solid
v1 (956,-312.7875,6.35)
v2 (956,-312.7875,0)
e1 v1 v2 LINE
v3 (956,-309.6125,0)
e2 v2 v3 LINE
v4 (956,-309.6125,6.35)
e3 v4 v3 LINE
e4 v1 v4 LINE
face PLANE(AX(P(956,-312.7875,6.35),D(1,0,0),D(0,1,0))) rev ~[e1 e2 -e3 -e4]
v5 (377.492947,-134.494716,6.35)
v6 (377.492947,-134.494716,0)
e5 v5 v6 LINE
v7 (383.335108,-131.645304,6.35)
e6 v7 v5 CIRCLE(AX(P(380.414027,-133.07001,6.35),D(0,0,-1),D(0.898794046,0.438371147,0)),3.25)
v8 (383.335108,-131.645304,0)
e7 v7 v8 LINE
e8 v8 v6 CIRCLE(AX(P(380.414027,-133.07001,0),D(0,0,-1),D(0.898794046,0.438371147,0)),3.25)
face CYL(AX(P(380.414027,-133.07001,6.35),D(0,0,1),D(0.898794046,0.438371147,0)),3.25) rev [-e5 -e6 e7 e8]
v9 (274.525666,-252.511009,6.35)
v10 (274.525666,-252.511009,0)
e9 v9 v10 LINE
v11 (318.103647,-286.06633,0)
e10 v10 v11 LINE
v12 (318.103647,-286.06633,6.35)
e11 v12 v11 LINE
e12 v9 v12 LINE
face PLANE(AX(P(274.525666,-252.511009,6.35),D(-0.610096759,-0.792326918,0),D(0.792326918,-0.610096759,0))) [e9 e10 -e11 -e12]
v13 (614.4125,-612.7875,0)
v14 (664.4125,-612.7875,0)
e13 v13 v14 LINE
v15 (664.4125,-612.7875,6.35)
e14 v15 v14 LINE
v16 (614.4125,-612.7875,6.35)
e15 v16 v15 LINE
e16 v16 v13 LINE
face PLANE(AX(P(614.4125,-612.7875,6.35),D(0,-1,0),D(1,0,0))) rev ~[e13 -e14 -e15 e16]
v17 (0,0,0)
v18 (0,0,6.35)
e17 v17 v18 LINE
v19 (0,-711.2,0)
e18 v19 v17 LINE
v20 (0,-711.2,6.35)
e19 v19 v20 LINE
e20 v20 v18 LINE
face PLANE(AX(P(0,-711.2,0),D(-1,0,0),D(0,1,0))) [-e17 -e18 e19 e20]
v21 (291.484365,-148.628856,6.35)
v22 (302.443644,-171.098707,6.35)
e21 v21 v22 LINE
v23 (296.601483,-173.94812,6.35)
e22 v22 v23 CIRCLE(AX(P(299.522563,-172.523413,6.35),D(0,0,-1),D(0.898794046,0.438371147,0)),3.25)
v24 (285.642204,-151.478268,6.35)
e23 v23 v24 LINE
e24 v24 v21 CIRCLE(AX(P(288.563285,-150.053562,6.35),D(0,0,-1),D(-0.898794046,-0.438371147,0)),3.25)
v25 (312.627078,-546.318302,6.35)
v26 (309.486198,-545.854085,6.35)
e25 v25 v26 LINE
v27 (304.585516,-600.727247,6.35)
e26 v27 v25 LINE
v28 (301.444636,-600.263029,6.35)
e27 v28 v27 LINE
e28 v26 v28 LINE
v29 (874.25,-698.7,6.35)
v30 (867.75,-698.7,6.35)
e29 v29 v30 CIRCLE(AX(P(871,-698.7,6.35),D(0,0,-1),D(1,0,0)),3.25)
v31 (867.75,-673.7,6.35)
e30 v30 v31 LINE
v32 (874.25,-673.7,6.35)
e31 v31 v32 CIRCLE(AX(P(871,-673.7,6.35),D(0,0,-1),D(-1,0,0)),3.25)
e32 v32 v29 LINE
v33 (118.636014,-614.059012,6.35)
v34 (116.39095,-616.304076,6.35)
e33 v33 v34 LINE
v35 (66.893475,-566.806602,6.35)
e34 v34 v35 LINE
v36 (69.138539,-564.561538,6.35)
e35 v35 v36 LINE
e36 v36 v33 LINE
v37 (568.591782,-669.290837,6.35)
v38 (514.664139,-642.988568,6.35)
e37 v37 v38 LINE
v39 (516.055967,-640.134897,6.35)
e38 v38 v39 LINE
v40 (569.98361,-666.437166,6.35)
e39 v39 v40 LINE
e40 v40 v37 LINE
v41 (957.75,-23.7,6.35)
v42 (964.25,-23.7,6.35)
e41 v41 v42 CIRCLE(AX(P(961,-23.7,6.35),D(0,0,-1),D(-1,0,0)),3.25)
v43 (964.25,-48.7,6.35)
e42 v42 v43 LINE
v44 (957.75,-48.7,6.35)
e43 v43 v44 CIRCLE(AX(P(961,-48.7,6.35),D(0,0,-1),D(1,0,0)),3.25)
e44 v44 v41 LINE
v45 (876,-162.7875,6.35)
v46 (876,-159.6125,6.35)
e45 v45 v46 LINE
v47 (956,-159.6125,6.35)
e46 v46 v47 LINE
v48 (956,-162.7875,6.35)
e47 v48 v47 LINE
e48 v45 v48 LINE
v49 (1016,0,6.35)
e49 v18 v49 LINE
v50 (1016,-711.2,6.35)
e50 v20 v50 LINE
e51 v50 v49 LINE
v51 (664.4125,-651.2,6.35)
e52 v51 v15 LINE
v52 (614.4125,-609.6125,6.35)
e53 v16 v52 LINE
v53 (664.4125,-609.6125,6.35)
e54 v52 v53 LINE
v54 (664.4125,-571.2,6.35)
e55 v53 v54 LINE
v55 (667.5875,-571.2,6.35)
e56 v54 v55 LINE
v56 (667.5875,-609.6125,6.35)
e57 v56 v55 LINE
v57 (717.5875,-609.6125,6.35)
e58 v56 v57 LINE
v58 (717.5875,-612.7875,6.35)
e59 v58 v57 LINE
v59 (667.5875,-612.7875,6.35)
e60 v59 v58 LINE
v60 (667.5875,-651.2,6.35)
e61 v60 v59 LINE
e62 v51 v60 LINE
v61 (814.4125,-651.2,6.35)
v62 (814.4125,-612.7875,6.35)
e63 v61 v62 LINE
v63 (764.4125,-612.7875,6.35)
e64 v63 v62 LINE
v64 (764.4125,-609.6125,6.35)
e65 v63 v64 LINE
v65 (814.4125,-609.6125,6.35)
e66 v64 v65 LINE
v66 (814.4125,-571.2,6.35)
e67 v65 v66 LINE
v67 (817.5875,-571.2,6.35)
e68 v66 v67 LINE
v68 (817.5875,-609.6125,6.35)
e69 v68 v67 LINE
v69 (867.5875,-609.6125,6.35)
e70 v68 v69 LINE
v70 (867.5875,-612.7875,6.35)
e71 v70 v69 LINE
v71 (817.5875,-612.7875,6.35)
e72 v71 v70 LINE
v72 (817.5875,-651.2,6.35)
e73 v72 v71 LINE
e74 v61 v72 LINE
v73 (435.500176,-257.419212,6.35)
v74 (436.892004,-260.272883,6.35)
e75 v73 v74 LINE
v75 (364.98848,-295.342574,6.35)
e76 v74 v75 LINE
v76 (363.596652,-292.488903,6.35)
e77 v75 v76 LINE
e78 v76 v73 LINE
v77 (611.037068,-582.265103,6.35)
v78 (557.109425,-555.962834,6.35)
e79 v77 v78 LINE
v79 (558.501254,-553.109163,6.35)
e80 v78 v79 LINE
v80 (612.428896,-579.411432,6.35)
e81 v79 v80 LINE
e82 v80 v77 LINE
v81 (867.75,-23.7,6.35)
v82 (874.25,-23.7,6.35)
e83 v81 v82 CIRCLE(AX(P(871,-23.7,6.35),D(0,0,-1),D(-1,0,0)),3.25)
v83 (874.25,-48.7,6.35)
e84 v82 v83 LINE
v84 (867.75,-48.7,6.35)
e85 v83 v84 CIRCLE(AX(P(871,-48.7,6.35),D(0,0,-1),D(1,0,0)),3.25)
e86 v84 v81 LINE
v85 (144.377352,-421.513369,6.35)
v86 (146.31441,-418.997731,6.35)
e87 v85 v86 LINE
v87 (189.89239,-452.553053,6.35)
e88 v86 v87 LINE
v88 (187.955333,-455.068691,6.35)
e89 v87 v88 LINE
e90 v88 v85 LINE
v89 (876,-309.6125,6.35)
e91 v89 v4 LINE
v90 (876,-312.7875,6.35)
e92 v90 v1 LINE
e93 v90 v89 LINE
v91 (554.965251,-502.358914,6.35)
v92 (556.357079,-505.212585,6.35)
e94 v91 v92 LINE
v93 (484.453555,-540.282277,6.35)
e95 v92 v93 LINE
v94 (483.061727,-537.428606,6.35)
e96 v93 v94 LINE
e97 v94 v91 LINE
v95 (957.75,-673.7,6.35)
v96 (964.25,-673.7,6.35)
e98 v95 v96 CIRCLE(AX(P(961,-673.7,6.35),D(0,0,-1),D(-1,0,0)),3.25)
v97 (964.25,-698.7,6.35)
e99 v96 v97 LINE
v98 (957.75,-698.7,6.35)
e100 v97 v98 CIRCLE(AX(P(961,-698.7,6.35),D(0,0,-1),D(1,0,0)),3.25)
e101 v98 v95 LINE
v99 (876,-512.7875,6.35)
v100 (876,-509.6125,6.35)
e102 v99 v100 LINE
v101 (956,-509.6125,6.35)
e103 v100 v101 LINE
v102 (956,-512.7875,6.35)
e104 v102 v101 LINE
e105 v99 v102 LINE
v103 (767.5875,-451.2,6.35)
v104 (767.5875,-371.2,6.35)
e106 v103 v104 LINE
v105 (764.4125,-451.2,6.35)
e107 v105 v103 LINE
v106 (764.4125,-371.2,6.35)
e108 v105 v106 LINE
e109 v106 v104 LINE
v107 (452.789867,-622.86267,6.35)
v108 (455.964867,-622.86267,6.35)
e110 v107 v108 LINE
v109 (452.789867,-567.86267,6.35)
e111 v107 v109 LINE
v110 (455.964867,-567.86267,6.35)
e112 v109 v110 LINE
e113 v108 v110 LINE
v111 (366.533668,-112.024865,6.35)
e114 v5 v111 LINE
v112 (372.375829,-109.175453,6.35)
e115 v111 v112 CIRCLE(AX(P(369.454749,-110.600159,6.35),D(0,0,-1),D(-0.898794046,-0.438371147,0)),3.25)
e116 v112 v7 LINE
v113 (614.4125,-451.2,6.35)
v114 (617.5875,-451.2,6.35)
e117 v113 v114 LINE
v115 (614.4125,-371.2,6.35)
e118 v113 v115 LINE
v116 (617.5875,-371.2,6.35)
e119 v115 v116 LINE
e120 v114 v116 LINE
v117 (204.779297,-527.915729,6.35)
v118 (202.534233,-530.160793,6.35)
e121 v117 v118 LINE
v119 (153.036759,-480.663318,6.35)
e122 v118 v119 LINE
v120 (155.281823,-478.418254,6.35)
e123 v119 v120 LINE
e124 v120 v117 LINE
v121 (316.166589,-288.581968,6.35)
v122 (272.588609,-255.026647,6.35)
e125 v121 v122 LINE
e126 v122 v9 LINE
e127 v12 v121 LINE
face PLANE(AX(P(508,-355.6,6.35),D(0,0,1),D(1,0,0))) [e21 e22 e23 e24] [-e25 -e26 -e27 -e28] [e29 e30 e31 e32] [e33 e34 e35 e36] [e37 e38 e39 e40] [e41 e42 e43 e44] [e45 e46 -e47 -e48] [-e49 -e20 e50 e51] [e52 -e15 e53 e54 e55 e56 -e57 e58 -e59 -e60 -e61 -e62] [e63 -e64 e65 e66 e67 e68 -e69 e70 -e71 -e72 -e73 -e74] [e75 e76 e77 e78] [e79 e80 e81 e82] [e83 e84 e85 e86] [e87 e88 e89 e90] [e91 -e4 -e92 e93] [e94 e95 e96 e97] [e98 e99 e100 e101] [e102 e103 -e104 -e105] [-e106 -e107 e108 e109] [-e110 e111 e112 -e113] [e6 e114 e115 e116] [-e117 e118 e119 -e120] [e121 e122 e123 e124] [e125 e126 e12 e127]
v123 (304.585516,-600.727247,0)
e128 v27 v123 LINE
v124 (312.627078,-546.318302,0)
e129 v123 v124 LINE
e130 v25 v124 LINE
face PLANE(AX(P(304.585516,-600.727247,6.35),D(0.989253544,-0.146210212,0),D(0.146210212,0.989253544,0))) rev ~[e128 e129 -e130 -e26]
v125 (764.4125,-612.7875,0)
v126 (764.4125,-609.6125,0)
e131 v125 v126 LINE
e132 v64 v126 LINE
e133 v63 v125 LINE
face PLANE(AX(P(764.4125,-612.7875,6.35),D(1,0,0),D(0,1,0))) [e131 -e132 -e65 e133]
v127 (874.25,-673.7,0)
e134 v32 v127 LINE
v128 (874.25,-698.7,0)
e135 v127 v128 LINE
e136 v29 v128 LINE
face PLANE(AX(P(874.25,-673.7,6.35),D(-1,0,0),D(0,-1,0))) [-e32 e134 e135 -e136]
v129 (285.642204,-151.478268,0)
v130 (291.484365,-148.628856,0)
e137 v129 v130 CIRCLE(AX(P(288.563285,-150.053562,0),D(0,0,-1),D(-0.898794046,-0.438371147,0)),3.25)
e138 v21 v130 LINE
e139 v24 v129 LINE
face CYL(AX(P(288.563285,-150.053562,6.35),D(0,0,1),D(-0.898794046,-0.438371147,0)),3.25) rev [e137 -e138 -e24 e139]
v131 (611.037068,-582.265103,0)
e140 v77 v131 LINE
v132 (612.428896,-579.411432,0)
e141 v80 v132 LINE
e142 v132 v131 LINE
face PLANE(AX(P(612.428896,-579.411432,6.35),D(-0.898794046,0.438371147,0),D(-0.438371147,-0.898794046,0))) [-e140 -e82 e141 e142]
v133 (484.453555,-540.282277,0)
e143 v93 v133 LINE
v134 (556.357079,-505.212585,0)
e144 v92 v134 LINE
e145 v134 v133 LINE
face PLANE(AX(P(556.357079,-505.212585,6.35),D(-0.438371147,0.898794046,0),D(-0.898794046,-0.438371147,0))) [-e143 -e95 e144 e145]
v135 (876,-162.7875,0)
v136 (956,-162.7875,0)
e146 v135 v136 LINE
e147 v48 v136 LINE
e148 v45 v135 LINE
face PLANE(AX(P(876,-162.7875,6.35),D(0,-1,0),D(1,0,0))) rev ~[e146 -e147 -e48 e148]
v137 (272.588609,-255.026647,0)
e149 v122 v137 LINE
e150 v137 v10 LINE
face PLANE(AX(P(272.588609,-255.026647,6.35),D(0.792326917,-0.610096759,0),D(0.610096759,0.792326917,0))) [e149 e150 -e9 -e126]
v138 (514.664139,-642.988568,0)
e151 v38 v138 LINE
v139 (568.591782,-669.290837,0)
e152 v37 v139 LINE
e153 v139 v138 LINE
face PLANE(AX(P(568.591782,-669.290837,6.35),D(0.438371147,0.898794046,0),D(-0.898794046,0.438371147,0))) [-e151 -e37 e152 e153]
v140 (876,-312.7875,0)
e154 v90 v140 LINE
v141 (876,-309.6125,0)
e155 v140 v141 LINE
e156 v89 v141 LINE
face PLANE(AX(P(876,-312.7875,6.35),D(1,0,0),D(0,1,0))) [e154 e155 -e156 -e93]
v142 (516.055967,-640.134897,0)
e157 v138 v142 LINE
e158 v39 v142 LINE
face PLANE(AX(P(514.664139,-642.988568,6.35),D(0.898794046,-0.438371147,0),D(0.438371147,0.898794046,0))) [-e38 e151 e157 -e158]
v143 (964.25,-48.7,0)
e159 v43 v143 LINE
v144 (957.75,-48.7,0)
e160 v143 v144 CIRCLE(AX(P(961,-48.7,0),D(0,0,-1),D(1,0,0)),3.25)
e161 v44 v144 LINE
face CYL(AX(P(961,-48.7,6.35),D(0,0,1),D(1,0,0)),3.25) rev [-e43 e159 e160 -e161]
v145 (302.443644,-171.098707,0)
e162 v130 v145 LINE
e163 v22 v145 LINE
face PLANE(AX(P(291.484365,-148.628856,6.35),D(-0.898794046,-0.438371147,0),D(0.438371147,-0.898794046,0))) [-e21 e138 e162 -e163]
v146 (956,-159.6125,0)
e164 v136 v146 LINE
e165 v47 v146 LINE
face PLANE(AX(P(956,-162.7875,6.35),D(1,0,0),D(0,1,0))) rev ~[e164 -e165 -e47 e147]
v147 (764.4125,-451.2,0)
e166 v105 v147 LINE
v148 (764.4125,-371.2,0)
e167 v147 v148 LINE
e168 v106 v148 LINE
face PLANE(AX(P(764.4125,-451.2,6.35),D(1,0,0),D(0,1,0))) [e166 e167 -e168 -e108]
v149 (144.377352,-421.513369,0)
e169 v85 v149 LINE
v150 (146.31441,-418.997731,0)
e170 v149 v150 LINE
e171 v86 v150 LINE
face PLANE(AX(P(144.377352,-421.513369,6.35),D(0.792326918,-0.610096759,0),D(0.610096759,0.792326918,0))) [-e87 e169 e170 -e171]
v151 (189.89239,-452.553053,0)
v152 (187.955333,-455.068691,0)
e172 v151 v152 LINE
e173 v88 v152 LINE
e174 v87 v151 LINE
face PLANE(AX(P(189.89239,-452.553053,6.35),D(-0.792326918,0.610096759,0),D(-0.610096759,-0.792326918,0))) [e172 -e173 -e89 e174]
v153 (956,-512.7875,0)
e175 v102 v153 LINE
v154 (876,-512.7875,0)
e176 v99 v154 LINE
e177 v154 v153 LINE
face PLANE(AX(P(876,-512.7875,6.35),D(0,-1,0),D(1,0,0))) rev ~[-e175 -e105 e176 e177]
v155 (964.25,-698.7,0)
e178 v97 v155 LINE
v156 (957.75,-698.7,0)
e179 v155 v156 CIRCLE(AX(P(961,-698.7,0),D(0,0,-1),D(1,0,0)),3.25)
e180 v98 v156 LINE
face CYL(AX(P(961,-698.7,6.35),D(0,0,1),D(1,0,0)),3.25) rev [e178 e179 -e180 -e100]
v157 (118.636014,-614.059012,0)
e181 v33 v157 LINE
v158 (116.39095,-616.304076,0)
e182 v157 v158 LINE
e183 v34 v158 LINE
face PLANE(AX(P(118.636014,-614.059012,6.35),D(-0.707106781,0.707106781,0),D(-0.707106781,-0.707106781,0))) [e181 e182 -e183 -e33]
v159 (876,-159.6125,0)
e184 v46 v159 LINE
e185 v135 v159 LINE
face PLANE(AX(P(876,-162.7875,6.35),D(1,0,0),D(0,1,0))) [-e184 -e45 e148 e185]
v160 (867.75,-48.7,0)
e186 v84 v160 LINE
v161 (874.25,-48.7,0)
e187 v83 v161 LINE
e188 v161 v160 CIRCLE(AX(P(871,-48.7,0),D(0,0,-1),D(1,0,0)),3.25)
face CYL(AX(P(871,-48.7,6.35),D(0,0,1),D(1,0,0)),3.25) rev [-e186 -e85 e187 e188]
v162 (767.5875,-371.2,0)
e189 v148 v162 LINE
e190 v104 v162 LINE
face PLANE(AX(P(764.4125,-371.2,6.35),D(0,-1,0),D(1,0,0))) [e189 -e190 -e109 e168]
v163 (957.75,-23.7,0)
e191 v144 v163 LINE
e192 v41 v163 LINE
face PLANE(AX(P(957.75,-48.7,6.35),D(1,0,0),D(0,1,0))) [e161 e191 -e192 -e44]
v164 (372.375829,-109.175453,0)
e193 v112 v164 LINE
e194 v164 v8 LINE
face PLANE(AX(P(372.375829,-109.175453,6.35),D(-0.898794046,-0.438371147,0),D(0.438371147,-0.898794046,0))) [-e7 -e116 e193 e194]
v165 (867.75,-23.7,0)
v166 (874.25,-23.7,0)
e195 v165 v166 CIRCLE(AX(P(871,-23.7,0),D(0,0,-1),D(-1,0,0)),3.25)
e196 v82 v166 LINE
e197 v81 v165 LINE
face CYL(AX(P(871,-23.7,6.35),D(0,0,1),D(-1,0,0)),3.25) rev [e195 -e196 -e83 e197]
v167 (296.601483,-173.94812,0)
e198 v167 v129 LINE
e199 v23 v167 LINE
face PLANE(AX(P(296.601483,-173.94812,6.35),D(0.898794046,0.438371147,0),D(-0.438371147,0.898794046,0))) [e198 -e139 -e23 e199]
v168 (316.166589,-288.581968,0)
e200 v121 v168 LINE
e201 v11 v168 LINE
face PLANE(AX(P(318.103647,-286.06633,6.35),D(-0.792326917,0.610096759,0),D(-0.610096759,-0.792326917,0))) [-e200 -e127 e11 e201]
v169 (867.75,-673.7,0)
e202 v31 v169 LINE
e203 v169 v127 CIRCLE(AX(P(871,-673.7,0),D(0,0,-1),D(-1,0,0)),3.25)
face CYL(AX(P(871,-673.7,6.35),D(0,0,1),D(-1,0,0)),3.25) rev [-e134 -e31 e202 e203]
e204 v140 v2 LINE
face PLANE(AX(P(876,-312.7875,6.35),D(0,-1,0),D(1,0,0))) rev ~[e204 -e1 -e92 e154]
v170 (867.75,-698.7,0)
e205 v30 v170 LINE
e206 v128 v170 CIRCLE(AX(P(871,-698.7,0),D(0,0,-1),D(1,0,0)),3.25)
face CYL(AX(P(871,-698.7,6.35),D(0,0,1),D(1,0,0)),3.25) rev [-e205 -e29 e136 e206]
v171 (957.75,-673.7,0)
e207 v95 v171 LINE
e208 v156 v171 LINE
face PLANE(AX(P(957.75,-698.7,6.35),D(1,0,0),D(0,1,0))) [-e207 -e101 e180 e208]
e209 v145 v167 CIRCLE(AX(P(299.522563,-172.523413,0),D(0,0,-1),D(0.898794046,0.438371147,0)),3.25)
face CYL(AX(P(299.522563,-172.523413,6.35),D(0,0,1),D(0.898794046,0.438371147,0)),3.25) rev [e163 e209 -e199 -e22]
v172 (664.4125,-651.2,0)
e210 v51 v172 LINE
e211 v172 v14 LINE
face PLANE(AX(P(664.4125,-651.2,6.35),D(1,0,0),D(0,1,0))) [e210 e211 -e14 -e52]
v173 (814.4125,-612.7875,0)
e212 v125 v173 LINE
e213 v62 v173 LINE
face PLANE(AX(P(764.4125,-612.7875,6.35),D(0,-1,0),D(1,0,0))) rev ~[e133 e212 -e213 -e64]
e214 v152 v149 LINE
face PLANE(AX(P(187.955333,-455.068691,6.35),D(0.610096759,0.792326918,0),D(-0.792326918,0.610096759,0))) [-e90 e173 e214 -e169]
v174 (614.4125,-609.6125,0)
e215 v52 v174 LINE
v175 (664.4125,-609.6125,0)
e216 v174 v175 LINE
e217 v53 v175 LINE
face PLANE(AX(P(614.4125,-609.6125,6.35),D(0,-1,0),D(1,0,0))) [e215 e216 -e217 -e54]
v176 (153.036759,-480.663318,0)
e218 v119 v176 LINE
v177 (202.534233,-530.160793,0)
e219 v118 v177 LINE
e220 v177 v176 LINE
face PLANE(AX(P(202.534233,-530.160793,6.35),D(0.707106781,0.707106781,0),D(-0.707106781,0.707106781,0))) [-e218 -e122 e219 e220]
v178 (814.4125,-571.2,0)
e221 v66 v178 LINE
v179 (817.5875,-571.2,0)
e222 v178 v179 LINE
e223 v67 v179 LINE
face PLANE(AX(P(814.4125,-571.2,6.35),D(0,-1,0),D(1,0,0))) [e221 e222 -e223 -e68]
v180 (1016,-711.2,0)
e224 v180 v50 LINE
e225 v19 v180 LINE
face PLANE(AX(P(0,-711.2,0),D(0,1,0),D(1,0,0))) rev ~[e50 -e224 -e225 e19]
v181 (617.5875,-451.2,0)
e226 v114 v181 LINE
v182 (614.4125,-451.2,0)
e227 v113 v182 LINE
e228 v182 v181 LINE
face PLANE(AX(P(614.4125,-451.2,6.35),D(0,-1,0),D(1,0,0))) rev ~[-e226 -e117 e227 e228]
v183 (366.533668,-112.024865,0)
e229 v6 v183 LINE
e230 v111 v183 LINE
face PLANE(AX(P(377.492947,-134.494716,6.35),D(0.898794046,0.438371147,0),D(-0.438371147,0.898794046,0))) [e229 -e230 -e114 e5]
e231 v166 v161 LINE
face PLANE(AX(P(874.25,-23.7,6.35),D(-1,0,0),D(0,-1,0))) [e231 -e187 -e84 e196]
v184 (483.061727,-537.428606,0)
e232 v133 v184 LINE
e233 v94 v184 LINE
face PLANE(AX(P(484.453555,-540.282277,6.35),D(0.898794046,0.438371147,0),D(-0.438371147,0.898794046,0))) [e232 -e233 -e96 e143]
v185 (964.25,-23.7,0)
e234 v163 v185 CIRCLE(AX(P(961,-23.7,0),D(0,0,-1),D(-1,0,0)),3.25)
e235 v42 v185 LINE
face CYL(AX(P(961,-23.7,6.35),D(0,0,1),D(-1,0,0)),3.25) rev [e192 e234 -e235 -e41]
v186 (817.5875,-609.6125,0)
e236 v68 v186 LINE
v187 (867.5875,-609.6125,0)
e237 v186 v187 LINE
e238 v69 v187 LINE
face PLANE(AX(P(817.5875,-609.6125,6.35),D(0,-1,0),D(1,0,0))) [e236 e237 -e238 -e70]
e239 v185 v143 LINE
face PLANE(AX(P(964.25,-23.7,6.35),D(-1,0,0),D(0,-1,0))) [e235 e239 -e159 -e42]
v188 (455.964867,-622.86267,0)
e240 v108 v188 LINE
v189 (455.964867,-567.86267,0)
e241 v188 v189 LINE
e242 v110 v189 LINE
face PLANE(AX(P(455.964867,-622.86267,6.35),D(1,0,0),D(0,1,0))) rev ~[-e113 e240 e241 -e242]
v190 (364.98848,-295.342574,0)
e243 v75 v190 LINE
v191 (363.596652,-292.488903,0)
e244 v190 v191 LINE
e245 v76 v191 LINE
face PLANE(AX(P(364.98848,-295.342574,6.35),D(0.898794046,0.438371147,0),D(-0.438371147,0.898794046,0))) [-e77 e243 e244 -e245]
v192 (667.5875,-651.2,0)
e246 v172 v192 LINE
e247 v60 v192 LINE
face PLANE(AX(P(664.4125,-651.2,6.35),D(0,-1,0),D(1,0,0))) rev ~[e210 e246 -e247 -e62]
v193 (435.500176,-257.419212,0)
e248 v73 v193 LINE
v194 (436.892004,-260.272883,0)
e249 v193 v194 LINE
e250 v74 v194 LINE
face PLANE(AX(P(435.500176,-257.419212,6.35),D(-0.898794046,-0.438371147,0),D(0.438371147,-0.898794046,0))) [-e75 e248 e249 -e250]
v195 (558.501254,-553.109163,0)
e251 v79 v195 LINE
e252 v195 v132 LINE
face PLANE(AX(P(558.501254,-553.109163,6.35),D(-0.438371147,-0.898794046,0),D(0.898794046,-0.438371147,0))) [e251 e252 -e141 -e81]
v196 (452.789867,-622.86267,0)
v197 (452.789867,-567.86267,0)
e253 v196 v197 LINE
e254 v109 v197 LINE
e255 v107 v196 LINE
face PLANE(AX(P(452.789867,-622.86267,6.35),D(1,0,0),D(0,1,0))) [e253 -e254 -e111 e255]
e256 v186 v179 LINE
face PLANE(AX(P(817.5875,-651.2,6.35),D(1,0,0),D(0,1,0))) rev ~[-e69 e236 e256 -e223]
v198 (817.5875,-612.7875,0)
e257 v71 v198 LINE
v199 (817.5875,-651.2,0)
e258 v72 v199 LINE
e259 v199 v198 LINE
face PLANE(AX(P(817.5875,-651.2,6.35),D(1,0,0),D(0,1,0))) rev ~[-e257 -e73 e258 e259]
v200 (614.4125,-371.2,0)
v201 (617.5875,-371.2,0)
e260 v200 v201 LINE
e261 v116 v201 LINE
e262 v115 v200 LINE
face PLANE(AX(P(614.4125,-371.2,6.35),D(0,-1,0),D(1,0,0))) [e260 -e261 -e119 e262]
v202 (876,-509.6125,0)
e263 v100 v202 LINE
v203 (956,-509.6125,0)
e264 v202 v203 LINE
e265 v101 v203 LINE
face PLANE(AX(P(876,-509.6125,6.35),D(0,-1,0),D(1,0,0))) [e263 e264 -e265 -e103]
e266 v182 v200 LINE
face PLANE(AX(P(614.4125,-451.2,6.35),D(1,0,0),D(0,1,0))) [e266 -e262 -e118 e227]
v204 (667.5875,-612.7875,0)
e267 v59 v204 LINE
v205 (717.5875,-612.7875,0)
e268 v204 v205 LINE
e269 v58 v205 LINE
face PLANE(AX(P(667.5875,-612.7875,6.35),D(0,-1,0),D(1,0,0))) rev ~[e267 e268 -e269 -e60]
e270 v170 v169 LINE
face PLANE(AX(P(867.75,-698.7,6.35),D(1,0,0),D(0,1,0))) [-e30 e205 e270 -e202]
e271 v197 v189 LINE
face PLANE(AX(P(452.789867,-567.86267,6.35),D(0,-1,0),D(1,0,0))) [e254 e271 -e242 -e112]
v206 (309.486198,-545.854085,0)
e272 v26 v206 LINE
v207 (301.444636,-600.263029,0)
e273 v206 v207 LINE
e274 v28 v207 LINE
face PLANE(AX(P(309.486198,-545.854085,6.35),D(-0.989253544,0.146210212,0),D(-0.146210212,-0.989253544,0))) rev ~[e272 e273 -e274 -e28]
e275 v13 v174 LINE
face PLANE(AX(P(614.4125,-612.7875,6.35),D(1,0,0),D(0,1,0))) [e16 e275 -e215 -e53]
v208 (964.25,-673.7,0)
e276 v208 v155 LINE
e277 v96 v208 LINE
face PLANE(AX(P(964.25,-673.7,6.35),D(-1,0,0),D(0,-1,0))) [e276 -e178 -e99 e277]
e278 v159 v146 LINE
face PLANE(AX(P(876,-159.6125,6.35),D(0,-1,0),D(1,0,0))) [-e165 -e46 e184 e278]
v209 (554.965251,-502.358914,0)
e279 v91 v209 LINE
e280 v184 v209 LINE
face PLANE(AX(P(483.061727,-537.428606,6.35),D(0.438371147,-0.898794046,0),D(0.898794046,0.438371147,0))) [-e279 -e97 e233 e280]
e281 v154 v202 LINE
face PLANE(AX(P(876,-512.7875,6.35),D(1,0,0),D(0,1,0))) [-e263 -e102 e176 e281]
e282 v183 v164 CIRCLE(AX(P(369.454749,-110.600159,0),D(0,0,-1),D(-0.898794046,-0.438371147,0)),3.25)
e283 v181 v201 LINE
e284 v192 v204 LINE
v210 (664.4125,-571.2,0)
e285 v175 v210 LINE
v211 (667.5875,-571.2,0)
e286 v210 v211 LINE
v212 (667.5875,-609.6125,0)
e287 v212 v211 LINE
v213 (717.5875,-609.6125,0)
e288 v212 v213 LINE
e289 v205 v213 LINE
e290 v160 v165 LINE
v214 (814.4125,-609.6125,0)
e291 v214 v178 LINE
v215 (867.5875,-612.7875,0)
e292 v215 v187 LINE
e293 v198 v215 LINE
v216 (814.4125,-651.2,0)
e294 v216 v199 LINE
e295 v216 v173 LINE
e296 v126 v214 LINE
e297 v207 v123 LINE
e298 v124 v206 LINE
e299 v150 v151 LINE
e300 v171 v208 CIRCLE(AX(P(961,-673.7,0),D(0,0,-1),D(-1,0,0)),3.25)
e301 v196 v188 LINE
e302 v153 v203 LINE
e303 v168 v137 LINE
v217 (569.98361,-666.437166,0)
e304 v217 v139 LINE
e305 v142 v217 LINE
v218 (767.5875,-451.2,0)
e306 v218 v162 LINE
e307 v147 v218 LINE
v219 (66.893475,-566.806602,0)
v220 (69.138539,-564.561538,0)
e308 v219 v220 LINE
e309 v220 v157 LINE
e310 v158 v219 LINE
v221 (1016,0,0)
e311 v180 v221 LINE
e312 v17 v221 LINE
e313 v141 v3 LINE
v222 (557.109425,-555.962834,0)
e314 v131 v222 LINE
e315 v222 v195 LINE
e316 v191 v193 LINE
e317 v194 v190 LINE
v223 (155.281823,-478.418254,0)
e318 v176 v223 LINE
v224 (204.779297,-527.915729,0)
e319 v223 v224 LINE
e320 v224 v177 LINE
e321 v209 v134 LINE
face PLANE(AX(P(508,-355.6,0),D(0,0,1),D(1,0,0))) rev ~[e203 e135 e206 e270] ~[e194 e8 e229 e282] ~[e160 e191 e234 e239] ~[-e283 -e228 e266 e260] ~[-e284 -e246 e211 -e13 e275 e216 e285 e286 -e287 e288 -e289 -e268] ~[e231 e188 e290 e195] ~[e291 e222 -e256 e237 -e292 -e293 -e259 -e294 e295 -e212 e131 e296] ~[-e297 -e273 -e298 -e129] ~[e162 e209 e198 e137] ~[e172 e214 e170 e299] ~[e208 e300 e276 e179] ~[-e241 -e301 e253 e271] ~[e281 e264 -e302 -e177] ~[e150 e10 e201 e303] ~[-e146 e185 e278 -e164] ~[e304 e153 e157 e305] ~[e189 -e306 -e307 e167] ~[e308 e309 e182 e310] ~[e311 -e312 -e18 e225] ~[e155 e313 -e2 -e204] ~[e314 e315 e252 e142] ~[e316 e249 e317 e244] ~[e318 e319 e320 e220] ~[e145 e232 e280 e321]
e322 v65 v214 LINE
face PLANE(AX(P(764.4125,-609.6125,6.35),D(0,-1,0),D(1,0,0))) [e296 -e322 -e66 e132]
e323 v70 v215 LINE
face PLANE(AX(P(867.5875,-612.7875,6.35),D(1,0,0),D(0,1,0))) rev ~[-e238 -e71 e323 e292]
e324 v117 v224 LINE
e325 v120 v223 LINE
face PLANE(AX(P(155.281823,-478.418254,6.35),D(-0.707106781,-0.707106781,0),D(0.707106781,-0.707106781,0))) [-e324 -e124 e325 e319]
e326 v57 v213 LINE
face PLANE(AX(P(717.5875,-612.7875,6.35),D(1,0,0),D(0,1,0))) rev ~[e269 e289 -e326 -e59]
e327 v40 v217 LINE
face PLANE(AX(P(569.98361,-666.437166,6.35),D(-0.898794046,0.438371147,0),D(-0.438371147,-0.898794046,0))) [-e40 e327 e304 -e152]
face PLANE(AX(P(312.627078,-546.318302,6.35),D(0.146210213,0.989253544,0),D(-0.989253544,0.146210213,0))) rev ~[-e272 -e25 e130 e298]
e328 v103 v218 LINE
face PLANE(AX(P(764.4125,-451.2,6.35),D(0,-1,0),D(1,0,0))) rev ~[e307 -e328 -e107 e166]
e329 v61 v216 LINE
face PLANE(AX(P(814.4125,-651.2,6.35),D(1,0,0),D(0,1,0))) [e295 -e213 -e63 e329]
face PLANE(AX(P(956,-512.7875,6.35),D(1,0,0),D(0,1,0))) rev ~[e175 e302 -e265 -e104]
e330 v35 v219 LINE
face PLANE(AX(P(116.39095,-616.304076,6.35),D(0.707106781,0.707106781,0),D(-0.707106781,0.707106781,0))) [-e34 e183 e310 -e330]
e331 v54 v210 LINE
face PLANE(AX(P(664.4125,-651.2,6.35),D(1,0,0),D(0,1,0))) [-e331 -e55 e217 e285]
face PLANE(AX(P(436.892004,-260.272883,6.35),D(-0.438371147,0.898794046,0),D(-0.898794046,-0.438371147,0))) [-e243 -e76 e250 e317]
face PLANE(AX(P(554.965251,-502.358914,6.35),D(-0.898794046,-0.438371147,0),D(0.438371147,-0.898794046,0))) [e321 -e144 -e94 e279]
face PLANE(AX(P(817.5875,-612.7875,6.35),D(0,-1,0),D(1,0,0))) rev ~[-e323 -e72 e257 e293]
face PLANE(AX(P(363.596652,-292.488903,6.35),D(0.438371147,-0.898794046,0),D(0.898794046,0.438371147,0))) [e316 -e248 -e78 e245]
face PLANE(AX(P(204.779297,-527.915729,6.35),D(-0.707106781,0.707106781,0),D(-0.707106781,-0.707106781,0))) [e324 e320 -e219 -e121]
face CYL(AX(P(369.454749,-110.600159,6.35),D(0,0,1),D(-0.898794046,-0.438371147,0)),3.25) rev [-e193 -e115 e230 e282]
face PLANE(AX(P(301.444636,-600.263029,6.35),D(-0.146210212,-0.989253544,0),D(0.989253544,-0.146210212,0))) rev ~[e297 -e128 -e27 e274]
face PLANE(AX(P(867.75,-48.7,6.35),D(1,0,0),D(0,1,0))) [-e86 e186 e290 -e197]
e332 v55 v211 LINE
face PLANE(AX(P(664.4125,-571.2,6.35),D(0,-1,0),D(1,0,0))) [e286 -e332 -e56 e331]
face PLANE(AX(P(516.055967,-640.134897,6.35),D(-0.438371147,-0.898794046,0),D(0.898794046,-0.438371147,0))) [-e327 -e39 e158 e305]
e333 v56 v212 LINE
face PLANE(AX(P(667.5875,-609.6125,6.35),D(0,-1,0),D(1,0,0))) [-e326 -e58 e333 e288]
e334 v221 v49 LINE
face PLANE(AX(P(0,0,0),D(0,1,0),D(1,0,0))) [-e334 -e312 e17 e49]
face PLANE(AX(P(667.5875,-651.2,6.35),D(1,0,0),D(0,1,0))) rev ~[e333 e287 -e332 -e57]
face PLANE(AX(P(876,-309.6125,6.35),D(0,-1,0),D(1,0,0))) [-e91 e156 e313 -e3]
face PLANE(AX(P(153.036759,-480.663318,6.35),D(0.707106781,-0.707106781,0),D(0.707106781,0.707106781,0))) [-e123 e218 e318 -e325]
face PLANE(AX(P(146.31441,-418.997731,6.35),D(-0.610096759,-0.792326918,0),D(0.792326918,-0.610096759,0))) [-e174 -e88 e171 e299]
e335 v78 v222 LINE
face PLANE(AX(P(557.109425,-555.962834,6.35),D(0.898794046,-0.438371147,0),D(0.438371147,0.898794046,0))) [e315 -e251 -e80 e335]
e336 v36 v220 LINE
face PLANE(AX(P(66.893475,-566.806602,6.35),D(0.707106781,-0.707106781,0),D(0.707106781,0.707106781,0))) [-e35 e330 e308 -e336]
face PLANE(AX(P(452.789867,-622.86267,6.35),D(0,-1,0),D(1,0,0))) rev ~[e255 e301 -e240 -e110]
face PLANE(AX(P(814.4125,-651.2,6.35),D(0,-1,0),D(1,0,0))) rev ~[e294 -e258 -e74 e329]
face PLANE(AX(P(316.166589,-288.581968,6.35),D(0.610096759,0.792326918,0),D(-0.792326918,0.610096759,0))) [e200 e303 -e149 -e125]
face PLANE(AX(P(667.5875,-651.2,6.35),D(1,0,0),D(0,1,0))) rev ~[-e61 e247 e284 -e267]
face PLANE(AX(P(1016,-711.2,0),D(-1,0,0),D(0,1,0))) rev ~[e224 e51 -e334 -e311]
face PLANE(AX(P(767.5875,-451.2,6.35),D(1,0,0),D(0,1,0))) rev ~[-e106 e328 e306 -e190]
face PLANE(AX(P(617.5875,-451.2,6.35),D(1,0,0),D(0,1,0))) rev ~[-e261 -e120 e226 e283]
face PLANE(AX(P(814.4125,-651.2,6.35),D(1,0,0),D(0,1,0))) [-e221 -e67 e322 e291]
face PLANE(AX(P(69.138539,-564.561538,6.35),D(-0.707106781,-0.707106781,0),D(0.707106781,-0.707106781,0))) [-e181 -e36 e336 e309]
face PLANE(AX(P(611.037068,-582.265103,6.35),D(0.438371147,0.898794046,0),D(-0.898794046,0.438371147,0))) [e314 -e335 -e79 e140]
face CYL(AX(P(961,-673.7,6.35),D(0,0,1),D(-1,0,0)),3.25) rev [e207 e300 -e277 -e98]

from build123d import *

# Parameters (mm, degrees)
SKETCH1_W           = 1016
SKETCH1_H           = 711.2
BOSS_EXTRUDE1_DEPTH = 6.35
SKETCH2_W           = 80
SKETCH2_H           = 3.175
SKETCH2_W_2         = 3.175
SKETCH2_H_2         = 80
CUT_EXTRUDE1_DEPTH  = 6.35
SKETCH3_W           = 50
SKETCH3_H           = 3.175
CUT_EXTRUDE2_DEPTH  = 10
CUT_EXTRUDE3_DEPTH  = 7.35
CUT_EXTRUDE4_DEPTH  = 7.35
CUT_EXTRUDE5_DEPTH  = 7.35
SKETCH8_W           = 3.175
SKETCH8_H           = 55
CUT_EXTRUDE6_DEPTH  = 7.35


with BuildPart() as part:
    # Sketch1 → Boss-Extrude1 (new body)
    with BuildSketch(Plane.XY):
        with Locations((508, -355.6)):
            Rectangle(SKETCH1_W, SKETCH1_H)
    extrude(amount=BOSS_EXTRUDE1_DEPTH)

    # Sketch2 → Cut-Extrude1 (cut)
    with BuildSketch(Plane.XY.offset(6.35)):
        with Locations((916, -161.2)):
            Rectangle(SKETCH2_W, SKETCH2_H)
        with Locations((916, -311.2)):
            Rectangle(SKETCH2_W, SKETCH2_H)
        with Locations((916, -511.2)):
            Rectangle(SKETCH2_W, SKETCH2_H)
        with Locations((766, -411.2)):
            Rectangle(SKETCH2_W_2, SKETCH2_H_2)
        with Locations((616, -411.2)):
            Rectangle(SKETCH2_W_2, SKETCH2_H_2)
        with BuildLine():
            Line((874.25, -673.7), (874.25, -698.7))
            ThreePointArc((874.25, -698.7), (871, -701.95), (867.75, -698.7))
            Line((867.75, -698.7), (867.75, -673.7))
            ThreePointArc((867.75, -673.7), (871, -670.45), (874.25, -673.7))
        make_face()
        Polygon((363.596651934, -292.488903378), (435.500175638, -257.419211635), (436.892004029, -260.272882732), (364.988480325, -295.342574475), align=None)
        Polygon((483.061726987, -537.428605693), (554.965250691, -502.35891395), (556.357079082, -505.212585047), (484.453555378, -540.28227679), align=None)
        with Locations((816, -611.2)):
            Rectangle(SKETCH2_W_2, SKETCH2_H_2)
        with Locations((666, -611.2)):
            Rectangle(SKETCH2_W_2, SKETCH2_H_2)
        Polygon((558.501253664, -553.109163281), (612.428896442, -579.411432089), (611.037068051, -582.265103186), (557.109425273, -555.962834378), align=None)
        Polygon((516.055967376, -640.134896814), (569.983610154, -666.437165622), (568.591781763, -669.290836719), (514.664138985, -642.988567911), align=None)
        Polygon((69.138539017, -564.561537688), (118.6360137, -614.059012371), (116.39094967, -616.304076401), (66.893474987, -566.806601718), align=None)
        Polygon((155.281822635, -478.418254069), (204.779297318, -527.915728753), (202.534233288, -530.160792783), (153.036758605, -480.6633181), align=None)
        with BuildLine():
            Line((964.25, -673.7), (964.25, -698.7))
            ThreePointArc((964.25, -698.7), (961, -701.95), (957.75, -698.7))
            Line((957.75, -698.7), (957.75, -673.7))
            ThreePointArc((957.75, -673.7), (961, -670.45), (964.25, -673.7))
        make_face()
        with BuildLine():
            Line((291.484365195, -148.62885591), (302.443643865, -171.098707067))
            ThreePointArc((302.443643865, -171.098707067), (300.947269442, -175.444493945), (296.601482564, -173.948119522))
            Line((296.601482564, -173.948119522), (285.642203894, -151.478268364))
            ThreePointArc((285.642203894, -151.478268364), (287.138578318, -147.132481487), (291.484365195, -148.62885591))
        make_face()
        with BuildLine():
            Line((372.375829362, -109.175452699), (383.335108032, -131.645303856))
            ThreePointArc((383.335108032, -131.645303856), (381.838733609, -135.991090734), (377.492946731, -134.494716311))
            Line((377.492946731, -134.494716311), (366.533668061, -112.024865153))
            ThreePointArc((366.533668061, -112.024865153), (368.030042485, -107.679078276), (372.375829362, -109.175452699))
        make_face()
        with BuildLine():
            Line((874.25, -23.7), (874.25, -48.7))
            ThreePointArc((874.25, -48.7), (871, -51.95), (867.75, -48.7))
            Line((867.75, -48.7), (867.75, -23.7))
            ThreePointArc((867.75, -23.7), (871, -20.45), (874.25, -23.7))
        make_face()
        with BuildLine():
            Line((957.75, -48.7), (957.75, -23.7))
            ThreePointArc((957.75, -23.7), (961, -20.45), (964.25, -23.7))
            Line((964.25, -23.7), (964.25, -48.7))
            ThreePointArc((964.25, -48.7), (961, -51.95), (957.75, -48.7))
        make_face()
    extrude(amount=-CUT_EXTRUDE1_DEPTH, mode=Mode.SUBTRACT)

    # Sketch3 → Cut-Extrude2 (cut)
    with BuildSketch(Plane.XY.offset(6.35)):
        with Locations((639.4125, -611.2)):
            Rectangle(SKETCH3_W, SKETCH3_H)
        with Locations((692.5875, -611.2)):
            Rectangle(SKETCH3_W, SKETCH3_H)
        with Locations((789.4125, -611.2)):
            Rectangle(SKETCH3_W, SKETCH3_H)
        with Locations((842.5875, -611.2)):
            Rectangle(SKETCH3_W, SKETCH3_H)
    extrude(amount=-CUT_EXTRUDE2_DEPTH, mode=Mode.SUBTRACT)

    # Sketch5 → Cut-Extrude3 (cut, through all)
    with BuildSketch(Plane.XY.offset(6.35)):
        Polygon((274.525666155, -252.511008661), (318.103646625, -286.066330417), (316.166589414, -288.58196838), (272.588608944, -255.026646624), align=None)
    extrude(amount=-CUT_EXTRUDE3_DEPTH, mode=Mode.SUBTRACT)

    # Sketch6 → Cut-Extrude4 (cut, through all)
    with BuildSketch(Plane.XY.offset(6.35)):
        Polygon((146.314409554, -418.997731493), (189.892390024, -452.553053249), (187.955332813, -455.068691213), (144.377352343, -421.513369457), align=None)
    extrude(amount=-CUT_EXTRUDE4_DEPTH, mode=Mode.SUBTRACT)

    # Sketch7 → Cut-Extrude5 (cut, through all)
    with BuildSketch(Plane.XY.offset(6.35)):
        Polygon((309.486197622, -545.854084542), (301.444635941, -600.263029448), (304.585515942, -600.727246872), (312.627077623, -546.318301967), align=None)
    extrude(amount=-CUT_EXTRUDE5_DEPTH, mode=Mode.SUBTRACT)

    # Sketch8 → Cut-Extrude6 (cut, through all)
    with BuildSketch(Plane.XY.offset(6.35)):
        with Locations((454.377367326, -595.36266963)):
            Rectangle(SKETCH8_W, SKETCH8_H)
    extrude(amount=-CUT_EXTRUDE6_DEPTH, mode=Mode.SUBTRACT)


solid = part.part
